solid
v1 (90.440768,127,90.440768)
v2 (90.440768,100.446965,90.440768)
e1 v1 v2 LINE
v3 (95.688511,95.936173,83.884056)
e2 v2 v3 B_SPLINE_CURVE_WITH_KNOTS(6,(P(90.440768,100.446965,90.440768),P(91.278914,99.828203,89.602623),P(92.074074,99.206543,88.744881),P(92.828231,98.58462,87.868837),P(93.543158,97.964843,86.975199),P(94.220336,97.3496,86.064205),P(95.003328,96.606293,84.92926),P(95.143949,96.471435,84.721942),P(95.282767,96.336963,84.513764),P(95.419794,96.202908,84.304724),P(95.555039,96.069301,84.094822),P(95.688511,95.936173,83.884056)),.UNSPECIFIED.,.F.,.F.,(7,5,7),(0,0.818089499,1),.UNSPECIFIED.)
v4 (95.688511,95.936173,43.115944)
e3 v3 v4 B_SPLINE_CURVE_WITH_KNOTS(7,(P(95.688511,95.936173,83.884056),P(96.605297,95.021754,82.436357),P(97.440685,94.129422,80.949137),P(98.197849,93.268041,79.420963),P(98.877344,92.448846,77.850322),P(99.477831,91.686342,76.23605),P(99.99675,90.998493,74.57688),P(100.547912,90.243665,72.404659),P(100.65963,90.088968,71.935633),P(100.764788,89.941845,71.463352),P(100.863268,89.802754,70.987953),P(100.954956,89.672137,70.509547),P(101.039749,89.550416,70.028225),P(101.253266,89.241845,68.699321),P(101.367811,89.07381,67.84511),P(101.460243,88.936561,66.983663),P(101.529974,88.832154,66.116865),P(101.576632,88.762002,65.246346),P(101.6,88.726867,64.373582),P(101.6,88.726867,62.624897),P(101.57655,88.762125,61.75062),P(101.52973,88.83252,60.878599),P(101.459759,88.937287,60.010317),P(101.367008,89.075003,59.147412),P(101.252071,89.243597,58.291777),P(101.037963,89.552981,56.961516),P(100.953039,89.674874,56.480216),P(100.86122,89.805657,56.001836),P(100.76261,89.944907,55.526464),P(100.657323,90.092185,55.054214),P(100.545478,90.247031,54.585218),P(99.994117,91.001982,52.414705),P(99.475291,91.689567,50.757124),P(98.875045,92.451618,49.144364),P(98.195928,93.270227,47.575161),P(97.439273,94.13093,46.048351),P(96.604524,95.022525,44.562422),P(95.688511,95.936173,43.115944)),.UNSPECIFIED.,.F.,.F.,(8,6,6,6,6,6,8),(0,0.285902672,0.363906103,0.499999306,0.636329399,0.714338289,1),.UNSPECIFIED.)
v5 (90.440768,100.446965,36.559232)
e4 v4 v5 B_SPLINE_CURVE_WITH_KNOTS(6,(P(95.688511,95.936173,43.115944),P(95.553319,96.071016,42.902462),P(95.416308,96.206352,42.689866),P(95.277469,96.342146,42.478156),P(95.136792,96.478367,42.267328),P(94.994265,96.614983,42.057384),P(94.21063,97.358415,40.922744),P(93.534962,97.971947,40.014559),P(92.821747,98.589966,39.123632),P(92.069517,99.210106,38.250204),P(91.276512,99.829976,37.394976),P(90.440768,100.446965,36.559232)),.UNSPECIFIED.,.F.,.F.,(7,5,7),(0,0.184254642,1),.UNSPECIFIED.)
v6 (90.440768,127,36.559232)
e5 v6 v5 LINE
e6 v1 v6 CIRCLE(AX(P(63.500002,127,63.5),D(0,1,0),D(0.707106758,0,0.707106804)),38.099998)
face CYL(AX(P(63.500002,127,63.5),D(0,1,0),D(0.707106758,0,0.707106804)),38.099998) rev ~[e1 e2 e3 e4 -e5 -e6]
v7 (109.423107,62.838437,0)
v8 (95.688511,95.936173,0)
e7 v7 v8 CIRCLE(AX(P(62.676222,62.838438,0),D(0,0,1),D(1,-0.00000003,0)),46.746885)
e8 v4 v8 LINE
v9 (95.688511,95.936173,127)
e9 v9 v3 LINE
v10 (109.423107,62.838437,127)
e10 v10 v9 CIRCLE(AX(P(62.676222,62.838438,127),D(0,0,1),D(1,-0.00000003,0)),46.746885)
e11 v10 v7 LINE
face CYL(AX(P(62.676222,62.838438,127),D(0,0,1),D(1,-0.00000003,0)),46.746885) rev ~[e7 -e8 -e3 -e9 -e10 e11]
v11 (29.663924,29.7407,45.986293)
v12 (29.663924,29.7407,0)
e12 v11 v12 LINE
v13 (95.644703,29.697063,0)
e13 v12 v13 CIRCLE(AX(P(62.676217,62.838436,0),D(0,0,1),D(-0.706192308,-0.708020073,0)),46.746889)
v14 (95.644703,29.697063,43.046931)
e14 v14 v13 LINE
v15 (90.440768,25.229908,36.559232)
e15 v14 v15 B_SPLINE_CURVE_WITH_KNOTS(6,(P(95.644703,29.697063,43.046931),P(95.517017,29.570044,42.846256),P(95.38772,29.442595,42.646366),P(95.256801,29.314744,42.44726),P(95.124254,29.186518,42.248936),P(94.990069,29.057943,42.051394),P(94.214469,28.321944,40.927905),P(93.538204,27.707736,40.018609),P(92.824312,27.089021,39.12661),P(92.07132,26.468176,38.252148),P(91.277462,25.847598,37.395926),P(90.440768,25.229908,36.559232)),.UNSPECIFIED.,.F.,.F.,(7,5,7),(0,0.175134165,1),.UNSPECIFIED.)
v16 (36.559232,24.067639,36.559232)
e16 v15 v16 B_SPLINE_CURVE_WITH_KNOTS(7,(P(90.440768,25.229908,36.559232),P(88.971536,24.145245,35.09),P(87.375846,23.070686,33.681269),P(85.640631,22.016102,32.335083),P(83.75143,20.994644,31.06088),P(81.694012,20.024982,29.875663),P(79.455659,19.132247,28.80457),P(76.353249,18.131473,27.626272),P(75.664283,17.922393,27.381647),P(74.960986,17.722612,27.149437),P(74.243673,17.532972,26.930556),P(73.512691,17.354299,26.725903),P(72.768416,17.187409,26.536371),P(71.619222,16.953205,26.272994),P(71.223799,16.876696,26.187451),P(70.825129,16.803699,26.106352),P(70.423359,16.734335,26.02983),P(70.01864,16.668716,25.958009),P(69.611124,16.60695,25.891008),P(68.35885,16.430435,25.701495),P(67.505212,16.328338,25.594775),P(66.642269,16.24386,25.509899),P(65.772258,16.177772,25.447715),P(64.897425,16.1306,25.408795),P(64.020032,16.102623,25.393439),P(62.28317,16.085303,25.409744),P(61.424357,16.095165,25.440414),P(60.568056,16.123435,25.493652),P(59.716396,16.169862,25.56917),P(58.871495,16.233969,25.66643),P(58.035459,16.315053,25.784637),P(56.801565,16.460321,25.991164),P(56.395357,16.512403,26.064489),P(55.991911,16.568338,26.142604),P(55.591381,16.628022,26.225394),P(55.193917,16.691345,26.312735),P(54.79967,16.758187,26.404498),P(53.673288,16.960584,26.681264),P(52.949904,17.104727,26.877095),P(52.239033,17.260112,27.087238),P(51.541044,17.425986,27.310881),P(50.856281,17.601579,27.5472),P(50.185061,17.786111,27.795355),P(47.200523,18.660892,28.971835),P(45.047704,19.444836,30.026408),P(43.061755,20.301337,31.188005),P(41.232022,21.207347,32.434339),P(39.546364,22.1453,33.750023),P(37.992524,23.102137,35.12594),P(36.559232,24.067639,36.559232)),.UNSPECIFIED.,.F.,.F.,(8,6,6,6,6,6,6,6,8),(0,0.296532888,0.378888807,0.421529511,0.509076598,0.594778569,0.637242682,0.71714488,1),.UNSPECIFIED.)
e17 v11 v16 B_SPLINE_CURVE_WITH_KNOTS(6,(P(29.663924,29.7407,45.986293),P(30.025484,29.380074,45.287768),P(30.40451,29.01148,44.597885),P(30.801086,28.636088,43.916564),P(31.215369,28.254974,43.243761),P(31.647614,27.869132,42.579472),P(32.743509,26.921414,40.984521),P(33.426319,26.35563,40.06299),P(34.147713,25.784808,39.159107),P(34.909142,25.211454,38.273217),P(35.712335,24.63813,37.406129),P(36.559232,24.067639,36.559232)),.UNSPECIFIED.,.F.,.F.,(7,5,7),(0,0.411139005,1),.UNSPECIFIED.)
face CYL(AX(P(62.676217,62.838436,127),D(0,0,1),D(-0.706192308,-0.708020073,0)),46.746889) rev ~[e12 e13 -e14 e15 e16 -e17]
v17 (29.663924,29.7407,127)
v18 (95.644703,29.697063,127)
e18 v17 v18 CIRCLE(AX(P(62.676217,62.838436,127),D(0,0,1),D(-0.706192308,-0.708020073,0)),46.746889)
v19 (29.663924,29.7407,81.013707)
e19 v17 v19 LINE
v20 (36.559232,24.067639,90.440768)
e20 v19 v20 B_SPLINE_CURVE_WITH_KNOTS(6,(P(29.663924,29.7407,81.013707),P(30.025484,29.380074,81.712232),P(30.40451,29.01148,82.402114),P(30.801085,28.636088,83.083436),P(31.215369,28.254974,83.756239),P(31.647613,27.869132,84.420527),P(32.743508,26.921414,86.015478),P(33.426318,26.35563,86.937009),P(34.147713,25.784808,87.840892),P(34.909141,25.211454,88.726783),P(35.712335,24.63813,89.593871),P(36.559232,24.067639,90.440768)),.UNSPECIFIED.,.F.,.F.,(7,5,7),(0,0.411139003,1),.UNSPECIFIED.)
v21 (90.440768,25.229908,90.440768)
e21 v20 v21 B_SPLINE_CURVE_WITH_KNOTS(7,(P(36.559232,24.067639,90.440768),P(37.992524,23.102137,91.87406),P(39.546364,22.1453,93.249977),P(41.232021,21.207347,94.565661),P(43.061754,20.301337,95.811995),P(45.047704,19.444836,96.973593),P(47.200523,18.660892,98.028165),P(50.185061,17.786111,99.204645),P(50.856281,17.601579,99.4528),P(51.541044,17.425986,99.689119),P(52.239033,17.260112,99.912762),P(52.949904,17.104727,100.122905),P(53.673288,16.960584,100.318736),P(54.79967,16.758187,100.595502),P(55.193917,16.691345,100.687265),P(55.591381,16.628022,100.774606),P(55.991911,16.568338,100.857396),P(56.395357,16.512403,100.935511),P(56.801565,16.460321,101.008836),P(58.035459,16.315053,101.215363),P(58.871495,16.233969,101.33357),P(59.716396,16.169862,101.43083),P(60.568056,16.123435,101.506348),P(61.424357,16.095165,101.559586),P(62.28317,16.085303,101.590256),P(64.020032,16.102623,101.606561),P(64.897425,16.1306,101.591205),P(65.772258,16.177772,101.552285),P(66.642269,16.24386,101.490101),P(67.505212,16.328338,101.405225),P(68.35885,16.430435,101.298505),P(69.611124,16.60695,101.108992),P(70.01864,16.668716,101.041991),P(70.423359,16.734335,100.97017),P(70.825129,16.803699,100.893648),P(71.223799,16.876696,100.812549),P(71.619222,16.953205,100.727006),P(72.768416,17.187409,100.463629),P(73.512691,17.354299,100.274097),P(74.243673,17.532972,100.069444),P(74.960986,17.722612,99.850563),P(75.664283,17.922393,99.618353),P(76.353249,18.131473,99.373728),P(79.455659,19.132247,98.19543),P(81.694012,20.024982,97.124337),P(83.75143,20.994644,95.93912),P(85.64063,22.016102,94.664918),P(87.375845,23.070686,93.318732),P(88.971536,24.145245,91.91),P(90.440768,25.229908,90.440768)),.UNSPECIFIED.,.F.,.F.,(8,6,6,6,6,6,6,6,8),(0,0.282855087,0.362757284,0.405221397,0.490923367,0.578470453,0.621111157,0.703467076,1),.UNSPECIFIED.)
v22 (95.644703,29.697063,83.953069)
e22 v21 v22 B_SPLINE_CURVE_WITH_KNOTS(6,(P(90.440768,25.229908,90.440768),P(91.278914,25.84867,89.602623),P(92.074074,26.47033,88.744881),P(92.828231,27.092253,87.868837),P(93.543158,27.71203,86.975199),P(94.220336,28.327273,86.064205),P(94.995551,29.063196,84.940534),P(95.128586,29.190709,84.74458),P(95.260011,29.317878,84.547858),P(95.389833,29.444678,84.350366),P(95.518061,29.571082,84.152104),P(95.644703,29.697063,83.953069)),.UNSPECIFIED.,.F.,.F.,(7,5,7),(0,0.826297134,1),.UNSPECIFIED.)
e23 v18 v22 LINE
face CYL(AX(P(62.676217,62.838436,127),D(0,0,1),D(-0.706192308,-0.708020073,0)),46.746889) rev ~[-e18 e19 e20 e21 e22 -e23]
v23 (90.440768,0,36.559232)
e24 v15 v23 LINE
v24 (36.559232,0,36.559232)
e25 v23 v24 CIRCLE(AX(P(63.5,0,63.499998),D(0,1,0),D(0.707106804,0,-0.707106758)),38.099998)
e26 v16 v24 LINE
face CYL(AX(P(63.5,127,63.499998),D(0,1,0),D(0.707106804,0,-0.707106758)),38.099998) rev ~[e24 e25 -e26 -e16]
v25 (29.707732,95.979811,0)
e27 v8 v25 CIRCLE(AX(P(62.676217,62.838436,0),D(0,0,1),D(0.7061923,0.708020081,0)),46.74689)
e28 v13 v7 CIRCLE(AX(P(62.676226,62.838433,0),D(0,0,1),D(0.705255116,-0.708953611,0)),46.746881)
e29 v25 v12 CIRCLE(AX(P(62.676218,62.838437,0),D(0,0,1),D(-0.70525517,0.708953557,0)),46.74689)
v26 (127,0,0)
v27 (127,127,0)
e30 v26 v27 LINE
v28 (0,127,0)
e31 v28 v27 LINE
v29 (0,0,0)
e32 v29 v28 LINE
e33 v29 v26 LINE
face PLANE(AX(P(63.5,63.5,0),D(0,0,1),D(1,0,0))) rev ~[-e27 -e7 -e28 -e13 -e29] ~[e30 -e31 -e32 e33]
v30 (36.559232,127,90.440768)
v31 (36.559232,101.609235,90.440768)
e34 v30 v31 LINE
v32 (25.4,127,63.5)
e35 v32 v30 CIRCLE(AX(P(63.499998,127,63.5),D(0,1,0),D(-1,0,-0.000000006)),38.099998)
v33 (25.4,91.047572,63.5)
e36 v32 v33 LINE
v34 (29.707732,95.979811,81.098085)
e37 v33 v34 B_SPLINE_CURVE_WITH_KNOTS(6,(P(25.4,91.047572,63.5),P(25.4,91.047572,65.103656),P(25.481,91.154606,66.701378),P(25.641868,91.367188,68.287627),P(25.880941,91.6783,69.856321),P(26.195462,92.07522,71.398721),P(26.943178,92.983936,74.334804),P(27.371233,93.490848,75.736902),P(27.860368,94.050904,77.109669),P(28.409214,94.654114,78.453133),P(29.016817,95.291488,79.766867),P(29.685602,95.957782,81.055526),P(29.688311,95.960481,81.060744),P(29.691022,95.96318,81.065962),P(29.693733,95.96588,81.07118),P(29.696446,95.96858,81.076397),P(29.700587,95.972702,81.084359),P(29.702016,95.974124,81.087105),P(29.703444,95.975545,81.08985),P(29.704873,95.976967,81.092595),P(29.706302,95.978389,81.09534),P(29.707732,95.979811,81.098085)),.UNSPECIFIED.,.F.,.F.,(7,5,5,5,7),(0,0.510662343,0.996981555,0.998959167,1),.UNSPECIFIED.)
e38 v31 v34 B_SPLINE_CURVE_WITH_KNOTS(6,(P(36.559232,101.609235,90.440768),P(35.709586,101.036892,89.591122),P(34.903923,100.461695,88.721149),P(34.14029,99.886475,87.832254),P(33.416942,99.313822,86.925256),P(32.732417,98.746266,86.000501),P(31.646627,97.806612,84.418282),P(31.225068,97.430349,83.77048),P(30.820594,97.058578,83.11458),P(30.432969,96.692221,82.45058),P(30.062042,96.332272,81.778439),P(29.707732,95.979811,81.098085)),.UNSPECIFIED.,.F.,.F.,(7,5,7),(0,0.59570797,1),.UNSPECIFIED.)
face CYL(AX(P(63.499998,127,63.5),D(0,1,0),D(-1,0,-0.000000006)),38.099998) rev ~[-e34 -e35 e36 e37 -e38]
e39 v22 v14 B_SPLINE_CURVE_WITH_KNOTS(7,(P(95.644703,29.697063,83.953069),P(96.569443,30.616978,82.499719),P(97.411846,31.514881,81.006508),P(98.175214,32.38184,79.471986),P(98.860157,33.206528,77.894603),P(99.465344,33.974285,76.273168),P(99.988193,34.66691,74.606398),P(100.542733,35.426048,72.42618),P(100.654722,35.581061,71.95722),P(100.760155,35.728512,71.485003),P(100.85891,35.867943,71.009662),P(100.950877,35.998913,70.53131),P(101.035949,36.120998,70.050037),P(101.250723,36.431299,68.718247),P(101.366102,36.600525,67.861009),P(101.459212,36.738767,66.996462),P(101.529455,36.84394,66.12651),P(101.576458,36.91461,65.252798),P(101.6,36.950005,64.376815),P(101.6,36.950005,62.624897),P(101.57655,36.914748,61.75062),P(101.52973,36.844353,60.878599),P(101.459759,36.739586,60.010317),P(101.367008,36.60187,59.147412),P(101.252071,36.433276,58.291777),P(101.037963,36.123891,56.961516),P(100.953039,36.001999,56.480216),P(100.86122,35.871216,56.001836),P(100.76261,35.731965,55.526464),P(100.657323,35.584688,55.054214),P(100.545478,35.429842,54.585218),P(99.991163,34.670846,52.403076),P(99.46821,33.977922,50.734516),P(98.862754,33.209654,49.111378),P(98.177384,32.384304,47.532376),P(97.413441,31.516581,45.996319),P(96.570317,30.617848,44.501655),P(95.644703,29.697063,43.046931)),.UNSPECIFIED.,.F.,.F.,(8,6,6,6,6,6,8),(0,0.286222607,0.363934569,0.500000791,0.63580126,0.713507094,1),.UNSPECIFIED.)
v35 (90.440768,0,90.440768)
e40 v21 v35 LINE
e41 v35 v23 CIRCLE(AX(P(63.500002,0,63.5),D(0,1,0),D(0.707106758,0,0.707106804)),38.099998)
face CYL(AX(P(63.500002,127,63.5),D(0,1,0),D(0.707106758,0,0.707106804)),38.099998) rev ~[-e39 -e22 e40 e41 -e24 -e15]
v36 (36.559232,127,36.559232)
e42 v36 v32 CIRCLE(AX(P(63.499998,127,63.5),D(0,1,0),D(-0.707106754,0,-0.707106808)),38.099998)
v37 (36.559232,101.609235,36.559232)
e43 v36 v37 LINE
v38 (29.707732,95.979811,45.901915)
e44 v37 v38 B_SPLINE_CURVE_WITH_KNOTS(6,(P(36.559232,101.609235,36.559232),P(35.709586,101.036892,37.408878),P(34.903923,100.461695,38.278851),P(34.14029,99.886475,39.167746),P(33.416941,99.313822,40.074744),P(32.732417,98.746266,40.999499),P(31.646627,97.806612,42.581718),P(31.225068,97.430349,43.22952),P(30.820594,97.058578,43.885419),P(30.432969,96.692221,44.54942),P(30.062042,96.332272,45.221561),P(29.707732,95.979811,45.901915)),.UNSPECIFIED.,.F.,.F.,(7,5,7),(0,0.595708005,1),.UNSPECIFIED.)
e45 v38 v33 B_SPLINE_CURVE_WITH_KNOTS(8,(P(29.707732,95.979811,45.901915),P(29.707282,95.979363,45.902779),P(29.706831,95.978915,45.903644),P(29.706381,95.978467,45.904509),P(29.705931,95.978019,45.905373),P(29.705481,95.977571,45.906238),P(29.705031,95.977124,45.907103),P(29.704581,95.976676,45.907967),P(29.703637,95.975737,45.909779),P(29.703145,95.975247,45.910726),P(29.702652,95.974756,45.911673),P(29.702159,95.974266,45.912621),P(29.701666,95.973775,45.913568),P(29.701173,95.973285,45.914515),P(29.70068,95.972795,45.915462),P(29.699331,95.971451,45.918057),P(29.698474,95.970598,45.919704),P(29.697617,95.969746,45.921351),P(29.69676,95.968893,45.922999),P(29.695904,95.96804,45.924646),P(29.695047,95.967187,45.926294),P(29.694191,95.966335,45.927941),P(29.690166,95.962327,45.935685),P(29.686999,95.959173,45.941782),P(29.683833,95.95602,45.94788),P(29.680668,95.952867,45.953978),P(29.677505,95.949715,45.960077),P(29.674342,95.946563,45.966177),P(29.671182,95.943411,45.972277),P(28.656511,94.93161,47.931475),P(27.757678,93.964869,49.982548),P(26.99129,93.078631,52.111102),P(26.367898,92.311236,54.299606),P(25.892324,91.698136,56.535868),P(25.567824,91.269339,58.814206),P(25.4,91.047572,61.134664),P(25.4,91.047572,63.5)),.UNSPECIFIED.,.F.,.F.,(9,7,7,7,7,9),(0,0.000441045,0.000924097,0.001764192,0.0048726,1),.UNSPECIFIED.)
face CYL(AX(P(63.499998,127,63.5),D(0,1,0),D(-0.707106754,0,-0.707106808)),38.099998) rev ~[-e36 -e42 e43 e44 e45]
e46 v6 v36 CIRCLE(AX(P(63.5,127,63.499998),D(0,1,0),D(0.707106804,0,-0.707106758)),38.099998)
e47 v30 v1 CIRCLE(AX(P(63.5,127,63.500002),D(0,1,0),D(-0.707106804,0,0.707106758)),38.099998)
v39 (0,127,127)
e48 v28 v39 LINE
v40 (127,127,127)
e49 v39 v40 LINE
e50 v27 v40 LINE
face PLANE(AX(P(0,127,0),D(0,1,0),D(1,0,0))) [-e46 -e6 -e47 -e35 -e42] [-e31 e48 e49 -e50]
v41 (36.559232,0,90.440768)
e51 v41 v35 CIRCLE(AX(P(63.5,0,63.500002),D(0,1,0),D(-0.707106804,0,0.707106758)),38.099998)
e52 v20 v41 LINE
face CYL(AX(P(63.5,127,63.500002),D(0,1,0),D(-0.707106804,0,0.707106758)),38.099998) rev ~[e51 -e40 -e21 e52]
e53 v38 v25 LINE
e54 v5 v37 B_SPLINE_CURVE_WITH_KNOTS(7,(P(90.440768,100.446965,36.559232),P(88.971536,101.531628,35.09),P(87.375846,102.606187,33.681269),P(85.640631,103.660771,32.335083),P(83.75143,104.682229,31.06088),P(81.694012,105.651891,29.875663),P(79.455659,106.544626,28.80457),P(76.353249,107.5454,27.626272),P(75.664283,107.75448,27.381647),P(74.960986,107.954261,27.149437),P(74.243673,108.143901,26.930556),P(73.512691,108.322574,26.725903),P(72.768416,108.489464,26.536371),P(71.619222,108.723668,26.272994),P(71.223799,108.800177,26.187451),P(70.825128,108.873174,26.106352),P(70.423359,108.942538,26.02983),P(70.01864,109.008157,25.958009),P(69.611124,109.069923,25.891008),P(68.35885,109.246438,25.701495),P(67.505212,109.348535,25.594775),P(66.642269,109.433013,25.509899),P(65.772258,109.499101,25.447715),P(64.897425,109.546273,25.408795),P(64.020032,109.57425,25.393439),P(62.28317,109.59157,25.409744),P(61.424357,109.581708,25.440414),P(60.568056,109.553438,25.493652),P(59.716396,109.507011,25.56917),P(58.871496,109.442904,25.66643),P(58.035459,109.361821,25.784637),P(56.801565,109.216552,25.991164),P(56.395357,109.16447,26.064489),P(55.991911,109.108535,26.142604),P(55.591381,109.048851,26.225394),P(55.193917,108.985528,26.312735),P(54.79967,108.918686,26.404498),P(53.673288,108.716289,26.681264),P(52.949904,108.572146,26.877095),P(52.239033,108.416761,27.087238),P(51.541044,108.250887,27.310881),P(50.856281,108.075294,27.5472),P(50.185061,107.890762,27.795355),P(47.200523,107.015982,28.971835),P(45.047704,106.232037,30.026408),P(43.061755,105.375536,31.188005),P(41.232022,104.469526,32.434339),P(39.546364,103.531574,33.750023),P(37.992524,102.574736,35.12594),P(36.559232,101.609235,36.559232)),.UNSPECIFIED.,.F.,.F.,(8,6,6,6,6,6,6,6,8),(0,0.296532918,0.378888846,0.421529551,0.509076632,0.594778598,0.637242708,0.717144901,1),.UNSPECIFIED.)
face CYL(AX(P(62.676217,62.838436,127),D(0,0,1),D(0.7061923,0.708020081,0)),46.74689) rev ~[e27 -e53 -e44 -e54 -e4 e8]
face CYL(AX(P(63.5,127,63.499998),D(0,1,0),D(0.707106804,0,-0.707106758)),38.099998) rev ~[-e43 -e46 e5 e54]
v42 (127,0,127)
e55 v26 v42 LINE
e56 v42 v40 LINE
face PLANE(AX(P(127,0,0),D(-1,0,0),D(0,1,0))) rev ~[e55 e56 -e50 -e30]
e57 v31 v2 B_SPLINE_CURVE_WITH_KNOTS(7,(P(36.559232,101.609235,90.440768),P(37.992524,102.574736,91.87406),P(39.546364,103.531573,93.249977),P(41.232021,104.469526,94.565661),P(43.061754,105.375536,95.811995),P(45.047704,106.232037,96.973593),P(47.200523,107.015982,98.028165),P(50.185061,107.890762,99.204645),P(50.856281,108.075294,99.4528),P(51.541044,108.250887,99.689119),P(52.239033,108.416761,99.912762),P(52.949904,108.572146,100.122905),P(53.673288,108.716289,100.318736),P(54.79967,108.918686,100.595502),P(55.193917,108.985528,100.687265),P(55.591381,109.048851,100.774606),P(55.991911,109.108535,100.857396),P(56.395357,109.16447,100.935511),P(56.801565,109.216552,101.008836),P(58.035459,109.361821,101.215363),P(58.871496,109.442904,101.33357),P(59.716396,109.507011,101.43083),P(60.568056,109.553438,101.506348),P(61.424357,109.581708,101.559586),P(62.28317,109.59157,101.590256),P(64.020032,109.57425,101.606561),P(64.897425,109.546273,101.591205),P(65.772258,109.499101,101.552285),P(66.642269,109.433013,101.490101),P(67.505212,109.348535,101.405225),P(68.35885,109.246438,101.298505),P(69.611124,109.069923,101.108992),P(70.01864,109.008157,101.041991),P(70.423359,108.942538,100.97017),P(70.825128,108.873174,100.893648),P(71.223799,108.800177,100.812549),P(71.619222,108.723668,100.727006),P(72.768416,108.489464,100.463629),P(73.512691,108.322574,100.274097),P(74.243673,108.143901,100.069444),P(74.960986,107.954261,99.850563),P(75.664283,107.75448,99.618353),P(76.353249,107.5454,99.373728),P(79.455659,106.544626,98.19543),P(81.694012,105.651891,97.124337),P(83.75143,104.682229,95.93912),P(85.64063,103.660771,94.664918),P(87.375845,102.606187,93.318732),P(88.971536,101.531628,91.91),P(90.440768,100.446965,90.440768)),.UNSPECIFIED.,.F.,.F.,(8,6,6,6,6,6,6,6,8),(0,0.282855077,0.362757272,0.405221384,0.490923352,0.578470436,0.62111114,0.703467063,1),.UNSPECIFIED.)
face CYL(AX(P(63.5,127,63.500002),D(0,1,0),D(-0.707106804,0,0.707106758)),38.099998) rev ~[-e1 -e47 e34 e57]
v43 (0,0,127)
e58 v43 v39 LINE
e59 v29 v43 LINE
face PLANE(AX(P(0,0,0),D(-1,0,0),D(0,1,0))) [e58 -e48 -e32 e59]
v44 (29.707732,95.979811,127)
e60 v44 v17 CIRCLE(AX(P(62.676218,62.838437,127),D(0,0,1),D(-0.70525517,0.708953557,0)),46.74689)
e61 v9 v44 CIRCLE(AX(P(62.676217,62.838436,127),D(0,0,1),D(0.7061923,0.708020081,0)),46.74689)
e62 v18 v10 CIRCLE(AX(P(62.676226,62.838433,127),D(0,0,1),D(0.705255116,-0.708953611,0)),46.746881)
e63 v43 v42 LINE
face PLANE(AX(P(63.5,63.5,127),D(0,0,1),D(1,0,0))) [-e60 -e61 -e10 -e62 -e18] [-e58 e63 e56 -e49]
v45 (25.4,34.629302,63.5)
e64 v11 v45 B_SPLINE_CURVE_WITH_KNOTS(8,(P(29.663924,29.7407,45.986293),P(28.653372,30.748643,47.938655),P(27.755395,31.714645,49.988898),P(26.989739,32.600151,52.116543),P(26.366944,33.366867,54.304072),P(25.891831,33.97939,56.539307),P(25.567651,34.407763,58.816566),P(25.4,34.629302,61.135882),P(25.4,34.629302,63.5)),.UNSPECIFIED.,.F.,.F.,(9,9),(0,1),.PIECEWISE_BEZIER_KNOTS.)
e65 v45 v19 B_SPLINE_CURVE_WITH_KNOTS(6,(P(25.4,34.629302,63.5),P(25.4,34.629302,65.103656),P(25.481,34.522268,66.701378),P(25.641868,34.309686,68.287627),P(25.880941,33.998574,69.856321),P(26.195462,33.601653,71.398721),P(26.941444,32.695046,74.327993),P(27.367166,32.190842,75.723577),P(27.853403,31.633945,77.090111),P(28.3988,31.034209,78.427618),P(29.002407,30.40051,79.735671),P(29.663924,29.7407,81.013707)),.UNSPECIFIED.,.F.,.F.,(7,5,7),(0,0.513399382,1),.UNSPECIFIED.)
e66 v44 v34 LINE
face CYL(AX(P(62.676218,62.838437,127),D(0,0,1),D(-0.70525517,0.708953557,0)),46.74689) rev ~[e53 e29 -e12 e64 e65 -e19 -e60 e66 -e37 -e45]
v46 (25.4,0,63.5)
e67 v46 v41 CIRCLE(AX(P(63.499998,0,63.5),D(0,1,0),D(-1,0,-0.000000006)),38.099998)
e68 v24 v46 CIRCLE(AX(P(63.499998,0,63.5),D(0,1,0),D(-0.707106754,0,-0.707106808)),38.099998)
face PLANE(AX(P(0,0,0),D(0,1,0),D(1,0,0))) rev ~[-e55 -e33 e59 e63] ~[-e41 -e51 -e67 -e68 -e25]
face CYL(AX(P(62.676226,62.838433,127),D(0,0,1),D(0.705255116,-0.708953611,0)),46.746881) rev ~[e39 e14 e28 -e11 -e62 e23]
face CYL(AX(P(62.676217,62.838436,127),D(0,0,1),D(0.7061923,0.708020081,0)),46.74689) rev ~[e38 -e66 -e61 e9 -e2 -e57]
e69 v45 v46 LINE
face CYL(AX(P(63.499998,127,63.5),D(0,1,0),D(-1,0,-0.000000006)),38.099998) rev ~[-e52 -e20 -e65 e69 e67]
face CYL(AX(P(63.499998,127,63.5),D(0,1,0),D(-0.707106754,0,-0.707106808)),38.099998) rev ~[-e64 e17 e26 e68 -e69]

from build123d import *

# Parameters (mm, degrees)
F0_W      = 127
F0_H      = 127
F1_DEPTH  = 127
F4_DEPTH  = 127
F6_DEPTH  = 127
F8_DEPTH  = 127
F10_DEPTH = 127


with BuildPart() as f1:
    # F0 (on Top) → F1 (new body)
    with BuildSketch(Plane.XY):
        with Locations((63.5, 63.5)):
            Rectangle(F0_W, F0_H)
    extrude(amount=F1_DEPTH)

    # F3 (on face) → F4 (cut)
    with BuildSketch(Plane.XY.offset(127)):
        with BuildLine():
            ThreePointArc((95.688511, 95.936173), (62.707134, 109.585316), (29.707732, 95.979811))
            Line((29.707732, 95.979811), (62.676218, 62.838437))
            Line((62.676218, 62.838437), (95.688511, 95.936173))
        make_face()
        with BuildLine():
            Line((62.676218, 62.838437), (29.707732, 95.979811))
            ThreePointArc((29.707732, 95.979811), (15.929338, 62.869353), (29.663924, 29.7407))
            Line((29.663924, 29.7407), (62.676218, 62.838437))
        make_face()
        with BuildLine():
            Line((95.688511, 95.936173), (62.676218, 62.838437))
            Line((62.676218, 62.838437), (95.644703, 29.697063))
            ThreePointArc((95.644703, 29.697063), (105.841284, 44.892719), (109.423107, 62.838437))
            ThreePointArc((109.423107, 62.838437), (105.853143, 80.755602), (95.688511, 95.936173))
        make_face()
        with BuildLine():
            Line((95.644703, 29.697063), (62.676218, 62.838437))
            Line((62.676218, 62.838437), (29.663924, 29.7407))
            ThreePointArc((29.663924, 29.7407), (62.645301, 16.091557), (95.644703, 29.697063))
        make_face()
    extrude(amount=-F4_DEPTH, mode=Mode.SUBTRACT)

    # F5 (on face) → F6 (cut)
    with BuildSketch(Plane.YZ.offset(127)):
        with BuildLine():
            ThreePointArc((90.100624, 90.100624), (63.5, 101.118963), (36.899376, 90.100624))
            Line((36.899376, 90.100624), (63.5, 63.5))
            Line((63.5, 63.5), (90.100624, 90.100624))
        make_face()
        with BuildLine():
            Line((63.5, 63.5), (36.899376, 90.100624))
            ThreePointArc((36.899376, 90.100624), (25.881037, 63.5), (36.899376, 36.899376))
            Line((36.899376, 36.899376), (63.5, 63.5))
        make_face()
        with BuildLine():
            Line((90.100624, 90.100624), (63.5, 63.5))
            Line((63.5, 63.5), (90.100624, 36.899376))
            ThreePointArc((90.100624, 36.899376), (98.25539, 49.103846), (101.118963, 63.5))
            ThreePointArc((101.118963, 63.5), (98.25539, 77.896154), (90.100624, 90.100624))
        make_face()
        with BuildLine():
            Line((90.100624, 36.899376), (63.5, 63.5))
            Line((63.5, 63.5), (36.899376, 36.899376))
            ThreePointArc((36.899376, 36.899376), (63.5, 25.881037), (90.100624, 36.899376))
        make_face()
    extrude(amount=F6_DEPTH, mode=Mode.SUBTRACT)

    # F7 (on face) → F8 (cut)
    with BuildSketch(Plane.YZ.offset(127)):
        with BuildLine():
            ThreePointArc((92.47811, 92.47811), (63.5, 104.481236), (34.52189, 92.47811))
            Line((34.52189, 92.47811), (63.5, 63.5))
            Line((63.5, 63.5), (92.47811, 92.47811))
        make_face()
        with BuildLine():
            Line((63.5, 63.5), (34.52189, 92.47811))
            ThreePointArc((34.52189, 92.47811), (22.518764, 63.5), (34.52189, 34.52189))
            Line((34.52189, 34.52189), (63.5, 63.5))
        make_face()
        with BuildLine():
            Line((92.47811, 92.47811), (63.5, 63.5))
            Line((63.5, 63.5), (92.47811, 34.52189))
            ThreePointArc((92.47811, 34.52189), (101.361725, 47.81716), (104.481236, 63.5))
            ThreePointArc((104.481236, 63.5), (101.361725, 79.18284), (92.47811, 92.47811))
        make_face()
        with BuildLine():
            Line((92.47811, 34.52189), (63.5, 63.5))
            Line((63.5, 63.5), (34.52189, 34.52189))
            ThreePointArc((34.52189, 34.52189), (63.5, 22.518764), (92.47811, 34.52189))
        make_face()
    extrude(amount=F8_DEPTH, mode=Mode.SUBTRACT)

    # F9 (on face) → F10 (cut)
    with BuildSketch(Plane(origin=(0, 127, 0), x_dir=(-1, 0, 0), z_dir=(0, 1, 0))):
        with BuildLine():
            ThreePointArc((-90.440768, 90.440768), (-101.6, 63.5), (-90.440768, 36.559232))
            Line((-90.440768, 36.559232), (-63.5, 63.5))
            Line((-63.5, 63.5), (-90.440768, 90.440768))
        make_face()
        with BuildLine():
            Line((-63.5, 63.5), (-90.440768, 36.559232))
            ThreePointArc((-90.440768, 36.559232), (-63.5, 25.4), (-36.559232, 36.559232))
            Line((-36.559232, 36.559232), (-63.5, 63.5))
        make_face()
        with BuildLine():
            Line((-90.440768, 90.440768), (-63.5, 63.5))
            Line((-63.5, 63.5), (-36.559232, 90.440768))
            ThreePointArc((-36.559232, 90.440768), (-63.5, 101.6), (-90.440768, 90.440768))
        make_face()
        with BuildLine():
            Line((-36.559232, 90.440768), (-63.5, 63.5))
            Line((-63.5, 63.5), (-36.559232, 36.559232))
            ThreePointArc((-36.559232, 36.559232), (-28.30019, 48.919761), (-25.4, 63.5))
            ThreePointArc((-25.4, 63.5), (-28.30019, 78.080239), (-36.559232, 90.440768))
        make_face()
    extrude(amount=-F10_DEPTH, mode=Mode.SUBTRACT)


solid = f1.part
